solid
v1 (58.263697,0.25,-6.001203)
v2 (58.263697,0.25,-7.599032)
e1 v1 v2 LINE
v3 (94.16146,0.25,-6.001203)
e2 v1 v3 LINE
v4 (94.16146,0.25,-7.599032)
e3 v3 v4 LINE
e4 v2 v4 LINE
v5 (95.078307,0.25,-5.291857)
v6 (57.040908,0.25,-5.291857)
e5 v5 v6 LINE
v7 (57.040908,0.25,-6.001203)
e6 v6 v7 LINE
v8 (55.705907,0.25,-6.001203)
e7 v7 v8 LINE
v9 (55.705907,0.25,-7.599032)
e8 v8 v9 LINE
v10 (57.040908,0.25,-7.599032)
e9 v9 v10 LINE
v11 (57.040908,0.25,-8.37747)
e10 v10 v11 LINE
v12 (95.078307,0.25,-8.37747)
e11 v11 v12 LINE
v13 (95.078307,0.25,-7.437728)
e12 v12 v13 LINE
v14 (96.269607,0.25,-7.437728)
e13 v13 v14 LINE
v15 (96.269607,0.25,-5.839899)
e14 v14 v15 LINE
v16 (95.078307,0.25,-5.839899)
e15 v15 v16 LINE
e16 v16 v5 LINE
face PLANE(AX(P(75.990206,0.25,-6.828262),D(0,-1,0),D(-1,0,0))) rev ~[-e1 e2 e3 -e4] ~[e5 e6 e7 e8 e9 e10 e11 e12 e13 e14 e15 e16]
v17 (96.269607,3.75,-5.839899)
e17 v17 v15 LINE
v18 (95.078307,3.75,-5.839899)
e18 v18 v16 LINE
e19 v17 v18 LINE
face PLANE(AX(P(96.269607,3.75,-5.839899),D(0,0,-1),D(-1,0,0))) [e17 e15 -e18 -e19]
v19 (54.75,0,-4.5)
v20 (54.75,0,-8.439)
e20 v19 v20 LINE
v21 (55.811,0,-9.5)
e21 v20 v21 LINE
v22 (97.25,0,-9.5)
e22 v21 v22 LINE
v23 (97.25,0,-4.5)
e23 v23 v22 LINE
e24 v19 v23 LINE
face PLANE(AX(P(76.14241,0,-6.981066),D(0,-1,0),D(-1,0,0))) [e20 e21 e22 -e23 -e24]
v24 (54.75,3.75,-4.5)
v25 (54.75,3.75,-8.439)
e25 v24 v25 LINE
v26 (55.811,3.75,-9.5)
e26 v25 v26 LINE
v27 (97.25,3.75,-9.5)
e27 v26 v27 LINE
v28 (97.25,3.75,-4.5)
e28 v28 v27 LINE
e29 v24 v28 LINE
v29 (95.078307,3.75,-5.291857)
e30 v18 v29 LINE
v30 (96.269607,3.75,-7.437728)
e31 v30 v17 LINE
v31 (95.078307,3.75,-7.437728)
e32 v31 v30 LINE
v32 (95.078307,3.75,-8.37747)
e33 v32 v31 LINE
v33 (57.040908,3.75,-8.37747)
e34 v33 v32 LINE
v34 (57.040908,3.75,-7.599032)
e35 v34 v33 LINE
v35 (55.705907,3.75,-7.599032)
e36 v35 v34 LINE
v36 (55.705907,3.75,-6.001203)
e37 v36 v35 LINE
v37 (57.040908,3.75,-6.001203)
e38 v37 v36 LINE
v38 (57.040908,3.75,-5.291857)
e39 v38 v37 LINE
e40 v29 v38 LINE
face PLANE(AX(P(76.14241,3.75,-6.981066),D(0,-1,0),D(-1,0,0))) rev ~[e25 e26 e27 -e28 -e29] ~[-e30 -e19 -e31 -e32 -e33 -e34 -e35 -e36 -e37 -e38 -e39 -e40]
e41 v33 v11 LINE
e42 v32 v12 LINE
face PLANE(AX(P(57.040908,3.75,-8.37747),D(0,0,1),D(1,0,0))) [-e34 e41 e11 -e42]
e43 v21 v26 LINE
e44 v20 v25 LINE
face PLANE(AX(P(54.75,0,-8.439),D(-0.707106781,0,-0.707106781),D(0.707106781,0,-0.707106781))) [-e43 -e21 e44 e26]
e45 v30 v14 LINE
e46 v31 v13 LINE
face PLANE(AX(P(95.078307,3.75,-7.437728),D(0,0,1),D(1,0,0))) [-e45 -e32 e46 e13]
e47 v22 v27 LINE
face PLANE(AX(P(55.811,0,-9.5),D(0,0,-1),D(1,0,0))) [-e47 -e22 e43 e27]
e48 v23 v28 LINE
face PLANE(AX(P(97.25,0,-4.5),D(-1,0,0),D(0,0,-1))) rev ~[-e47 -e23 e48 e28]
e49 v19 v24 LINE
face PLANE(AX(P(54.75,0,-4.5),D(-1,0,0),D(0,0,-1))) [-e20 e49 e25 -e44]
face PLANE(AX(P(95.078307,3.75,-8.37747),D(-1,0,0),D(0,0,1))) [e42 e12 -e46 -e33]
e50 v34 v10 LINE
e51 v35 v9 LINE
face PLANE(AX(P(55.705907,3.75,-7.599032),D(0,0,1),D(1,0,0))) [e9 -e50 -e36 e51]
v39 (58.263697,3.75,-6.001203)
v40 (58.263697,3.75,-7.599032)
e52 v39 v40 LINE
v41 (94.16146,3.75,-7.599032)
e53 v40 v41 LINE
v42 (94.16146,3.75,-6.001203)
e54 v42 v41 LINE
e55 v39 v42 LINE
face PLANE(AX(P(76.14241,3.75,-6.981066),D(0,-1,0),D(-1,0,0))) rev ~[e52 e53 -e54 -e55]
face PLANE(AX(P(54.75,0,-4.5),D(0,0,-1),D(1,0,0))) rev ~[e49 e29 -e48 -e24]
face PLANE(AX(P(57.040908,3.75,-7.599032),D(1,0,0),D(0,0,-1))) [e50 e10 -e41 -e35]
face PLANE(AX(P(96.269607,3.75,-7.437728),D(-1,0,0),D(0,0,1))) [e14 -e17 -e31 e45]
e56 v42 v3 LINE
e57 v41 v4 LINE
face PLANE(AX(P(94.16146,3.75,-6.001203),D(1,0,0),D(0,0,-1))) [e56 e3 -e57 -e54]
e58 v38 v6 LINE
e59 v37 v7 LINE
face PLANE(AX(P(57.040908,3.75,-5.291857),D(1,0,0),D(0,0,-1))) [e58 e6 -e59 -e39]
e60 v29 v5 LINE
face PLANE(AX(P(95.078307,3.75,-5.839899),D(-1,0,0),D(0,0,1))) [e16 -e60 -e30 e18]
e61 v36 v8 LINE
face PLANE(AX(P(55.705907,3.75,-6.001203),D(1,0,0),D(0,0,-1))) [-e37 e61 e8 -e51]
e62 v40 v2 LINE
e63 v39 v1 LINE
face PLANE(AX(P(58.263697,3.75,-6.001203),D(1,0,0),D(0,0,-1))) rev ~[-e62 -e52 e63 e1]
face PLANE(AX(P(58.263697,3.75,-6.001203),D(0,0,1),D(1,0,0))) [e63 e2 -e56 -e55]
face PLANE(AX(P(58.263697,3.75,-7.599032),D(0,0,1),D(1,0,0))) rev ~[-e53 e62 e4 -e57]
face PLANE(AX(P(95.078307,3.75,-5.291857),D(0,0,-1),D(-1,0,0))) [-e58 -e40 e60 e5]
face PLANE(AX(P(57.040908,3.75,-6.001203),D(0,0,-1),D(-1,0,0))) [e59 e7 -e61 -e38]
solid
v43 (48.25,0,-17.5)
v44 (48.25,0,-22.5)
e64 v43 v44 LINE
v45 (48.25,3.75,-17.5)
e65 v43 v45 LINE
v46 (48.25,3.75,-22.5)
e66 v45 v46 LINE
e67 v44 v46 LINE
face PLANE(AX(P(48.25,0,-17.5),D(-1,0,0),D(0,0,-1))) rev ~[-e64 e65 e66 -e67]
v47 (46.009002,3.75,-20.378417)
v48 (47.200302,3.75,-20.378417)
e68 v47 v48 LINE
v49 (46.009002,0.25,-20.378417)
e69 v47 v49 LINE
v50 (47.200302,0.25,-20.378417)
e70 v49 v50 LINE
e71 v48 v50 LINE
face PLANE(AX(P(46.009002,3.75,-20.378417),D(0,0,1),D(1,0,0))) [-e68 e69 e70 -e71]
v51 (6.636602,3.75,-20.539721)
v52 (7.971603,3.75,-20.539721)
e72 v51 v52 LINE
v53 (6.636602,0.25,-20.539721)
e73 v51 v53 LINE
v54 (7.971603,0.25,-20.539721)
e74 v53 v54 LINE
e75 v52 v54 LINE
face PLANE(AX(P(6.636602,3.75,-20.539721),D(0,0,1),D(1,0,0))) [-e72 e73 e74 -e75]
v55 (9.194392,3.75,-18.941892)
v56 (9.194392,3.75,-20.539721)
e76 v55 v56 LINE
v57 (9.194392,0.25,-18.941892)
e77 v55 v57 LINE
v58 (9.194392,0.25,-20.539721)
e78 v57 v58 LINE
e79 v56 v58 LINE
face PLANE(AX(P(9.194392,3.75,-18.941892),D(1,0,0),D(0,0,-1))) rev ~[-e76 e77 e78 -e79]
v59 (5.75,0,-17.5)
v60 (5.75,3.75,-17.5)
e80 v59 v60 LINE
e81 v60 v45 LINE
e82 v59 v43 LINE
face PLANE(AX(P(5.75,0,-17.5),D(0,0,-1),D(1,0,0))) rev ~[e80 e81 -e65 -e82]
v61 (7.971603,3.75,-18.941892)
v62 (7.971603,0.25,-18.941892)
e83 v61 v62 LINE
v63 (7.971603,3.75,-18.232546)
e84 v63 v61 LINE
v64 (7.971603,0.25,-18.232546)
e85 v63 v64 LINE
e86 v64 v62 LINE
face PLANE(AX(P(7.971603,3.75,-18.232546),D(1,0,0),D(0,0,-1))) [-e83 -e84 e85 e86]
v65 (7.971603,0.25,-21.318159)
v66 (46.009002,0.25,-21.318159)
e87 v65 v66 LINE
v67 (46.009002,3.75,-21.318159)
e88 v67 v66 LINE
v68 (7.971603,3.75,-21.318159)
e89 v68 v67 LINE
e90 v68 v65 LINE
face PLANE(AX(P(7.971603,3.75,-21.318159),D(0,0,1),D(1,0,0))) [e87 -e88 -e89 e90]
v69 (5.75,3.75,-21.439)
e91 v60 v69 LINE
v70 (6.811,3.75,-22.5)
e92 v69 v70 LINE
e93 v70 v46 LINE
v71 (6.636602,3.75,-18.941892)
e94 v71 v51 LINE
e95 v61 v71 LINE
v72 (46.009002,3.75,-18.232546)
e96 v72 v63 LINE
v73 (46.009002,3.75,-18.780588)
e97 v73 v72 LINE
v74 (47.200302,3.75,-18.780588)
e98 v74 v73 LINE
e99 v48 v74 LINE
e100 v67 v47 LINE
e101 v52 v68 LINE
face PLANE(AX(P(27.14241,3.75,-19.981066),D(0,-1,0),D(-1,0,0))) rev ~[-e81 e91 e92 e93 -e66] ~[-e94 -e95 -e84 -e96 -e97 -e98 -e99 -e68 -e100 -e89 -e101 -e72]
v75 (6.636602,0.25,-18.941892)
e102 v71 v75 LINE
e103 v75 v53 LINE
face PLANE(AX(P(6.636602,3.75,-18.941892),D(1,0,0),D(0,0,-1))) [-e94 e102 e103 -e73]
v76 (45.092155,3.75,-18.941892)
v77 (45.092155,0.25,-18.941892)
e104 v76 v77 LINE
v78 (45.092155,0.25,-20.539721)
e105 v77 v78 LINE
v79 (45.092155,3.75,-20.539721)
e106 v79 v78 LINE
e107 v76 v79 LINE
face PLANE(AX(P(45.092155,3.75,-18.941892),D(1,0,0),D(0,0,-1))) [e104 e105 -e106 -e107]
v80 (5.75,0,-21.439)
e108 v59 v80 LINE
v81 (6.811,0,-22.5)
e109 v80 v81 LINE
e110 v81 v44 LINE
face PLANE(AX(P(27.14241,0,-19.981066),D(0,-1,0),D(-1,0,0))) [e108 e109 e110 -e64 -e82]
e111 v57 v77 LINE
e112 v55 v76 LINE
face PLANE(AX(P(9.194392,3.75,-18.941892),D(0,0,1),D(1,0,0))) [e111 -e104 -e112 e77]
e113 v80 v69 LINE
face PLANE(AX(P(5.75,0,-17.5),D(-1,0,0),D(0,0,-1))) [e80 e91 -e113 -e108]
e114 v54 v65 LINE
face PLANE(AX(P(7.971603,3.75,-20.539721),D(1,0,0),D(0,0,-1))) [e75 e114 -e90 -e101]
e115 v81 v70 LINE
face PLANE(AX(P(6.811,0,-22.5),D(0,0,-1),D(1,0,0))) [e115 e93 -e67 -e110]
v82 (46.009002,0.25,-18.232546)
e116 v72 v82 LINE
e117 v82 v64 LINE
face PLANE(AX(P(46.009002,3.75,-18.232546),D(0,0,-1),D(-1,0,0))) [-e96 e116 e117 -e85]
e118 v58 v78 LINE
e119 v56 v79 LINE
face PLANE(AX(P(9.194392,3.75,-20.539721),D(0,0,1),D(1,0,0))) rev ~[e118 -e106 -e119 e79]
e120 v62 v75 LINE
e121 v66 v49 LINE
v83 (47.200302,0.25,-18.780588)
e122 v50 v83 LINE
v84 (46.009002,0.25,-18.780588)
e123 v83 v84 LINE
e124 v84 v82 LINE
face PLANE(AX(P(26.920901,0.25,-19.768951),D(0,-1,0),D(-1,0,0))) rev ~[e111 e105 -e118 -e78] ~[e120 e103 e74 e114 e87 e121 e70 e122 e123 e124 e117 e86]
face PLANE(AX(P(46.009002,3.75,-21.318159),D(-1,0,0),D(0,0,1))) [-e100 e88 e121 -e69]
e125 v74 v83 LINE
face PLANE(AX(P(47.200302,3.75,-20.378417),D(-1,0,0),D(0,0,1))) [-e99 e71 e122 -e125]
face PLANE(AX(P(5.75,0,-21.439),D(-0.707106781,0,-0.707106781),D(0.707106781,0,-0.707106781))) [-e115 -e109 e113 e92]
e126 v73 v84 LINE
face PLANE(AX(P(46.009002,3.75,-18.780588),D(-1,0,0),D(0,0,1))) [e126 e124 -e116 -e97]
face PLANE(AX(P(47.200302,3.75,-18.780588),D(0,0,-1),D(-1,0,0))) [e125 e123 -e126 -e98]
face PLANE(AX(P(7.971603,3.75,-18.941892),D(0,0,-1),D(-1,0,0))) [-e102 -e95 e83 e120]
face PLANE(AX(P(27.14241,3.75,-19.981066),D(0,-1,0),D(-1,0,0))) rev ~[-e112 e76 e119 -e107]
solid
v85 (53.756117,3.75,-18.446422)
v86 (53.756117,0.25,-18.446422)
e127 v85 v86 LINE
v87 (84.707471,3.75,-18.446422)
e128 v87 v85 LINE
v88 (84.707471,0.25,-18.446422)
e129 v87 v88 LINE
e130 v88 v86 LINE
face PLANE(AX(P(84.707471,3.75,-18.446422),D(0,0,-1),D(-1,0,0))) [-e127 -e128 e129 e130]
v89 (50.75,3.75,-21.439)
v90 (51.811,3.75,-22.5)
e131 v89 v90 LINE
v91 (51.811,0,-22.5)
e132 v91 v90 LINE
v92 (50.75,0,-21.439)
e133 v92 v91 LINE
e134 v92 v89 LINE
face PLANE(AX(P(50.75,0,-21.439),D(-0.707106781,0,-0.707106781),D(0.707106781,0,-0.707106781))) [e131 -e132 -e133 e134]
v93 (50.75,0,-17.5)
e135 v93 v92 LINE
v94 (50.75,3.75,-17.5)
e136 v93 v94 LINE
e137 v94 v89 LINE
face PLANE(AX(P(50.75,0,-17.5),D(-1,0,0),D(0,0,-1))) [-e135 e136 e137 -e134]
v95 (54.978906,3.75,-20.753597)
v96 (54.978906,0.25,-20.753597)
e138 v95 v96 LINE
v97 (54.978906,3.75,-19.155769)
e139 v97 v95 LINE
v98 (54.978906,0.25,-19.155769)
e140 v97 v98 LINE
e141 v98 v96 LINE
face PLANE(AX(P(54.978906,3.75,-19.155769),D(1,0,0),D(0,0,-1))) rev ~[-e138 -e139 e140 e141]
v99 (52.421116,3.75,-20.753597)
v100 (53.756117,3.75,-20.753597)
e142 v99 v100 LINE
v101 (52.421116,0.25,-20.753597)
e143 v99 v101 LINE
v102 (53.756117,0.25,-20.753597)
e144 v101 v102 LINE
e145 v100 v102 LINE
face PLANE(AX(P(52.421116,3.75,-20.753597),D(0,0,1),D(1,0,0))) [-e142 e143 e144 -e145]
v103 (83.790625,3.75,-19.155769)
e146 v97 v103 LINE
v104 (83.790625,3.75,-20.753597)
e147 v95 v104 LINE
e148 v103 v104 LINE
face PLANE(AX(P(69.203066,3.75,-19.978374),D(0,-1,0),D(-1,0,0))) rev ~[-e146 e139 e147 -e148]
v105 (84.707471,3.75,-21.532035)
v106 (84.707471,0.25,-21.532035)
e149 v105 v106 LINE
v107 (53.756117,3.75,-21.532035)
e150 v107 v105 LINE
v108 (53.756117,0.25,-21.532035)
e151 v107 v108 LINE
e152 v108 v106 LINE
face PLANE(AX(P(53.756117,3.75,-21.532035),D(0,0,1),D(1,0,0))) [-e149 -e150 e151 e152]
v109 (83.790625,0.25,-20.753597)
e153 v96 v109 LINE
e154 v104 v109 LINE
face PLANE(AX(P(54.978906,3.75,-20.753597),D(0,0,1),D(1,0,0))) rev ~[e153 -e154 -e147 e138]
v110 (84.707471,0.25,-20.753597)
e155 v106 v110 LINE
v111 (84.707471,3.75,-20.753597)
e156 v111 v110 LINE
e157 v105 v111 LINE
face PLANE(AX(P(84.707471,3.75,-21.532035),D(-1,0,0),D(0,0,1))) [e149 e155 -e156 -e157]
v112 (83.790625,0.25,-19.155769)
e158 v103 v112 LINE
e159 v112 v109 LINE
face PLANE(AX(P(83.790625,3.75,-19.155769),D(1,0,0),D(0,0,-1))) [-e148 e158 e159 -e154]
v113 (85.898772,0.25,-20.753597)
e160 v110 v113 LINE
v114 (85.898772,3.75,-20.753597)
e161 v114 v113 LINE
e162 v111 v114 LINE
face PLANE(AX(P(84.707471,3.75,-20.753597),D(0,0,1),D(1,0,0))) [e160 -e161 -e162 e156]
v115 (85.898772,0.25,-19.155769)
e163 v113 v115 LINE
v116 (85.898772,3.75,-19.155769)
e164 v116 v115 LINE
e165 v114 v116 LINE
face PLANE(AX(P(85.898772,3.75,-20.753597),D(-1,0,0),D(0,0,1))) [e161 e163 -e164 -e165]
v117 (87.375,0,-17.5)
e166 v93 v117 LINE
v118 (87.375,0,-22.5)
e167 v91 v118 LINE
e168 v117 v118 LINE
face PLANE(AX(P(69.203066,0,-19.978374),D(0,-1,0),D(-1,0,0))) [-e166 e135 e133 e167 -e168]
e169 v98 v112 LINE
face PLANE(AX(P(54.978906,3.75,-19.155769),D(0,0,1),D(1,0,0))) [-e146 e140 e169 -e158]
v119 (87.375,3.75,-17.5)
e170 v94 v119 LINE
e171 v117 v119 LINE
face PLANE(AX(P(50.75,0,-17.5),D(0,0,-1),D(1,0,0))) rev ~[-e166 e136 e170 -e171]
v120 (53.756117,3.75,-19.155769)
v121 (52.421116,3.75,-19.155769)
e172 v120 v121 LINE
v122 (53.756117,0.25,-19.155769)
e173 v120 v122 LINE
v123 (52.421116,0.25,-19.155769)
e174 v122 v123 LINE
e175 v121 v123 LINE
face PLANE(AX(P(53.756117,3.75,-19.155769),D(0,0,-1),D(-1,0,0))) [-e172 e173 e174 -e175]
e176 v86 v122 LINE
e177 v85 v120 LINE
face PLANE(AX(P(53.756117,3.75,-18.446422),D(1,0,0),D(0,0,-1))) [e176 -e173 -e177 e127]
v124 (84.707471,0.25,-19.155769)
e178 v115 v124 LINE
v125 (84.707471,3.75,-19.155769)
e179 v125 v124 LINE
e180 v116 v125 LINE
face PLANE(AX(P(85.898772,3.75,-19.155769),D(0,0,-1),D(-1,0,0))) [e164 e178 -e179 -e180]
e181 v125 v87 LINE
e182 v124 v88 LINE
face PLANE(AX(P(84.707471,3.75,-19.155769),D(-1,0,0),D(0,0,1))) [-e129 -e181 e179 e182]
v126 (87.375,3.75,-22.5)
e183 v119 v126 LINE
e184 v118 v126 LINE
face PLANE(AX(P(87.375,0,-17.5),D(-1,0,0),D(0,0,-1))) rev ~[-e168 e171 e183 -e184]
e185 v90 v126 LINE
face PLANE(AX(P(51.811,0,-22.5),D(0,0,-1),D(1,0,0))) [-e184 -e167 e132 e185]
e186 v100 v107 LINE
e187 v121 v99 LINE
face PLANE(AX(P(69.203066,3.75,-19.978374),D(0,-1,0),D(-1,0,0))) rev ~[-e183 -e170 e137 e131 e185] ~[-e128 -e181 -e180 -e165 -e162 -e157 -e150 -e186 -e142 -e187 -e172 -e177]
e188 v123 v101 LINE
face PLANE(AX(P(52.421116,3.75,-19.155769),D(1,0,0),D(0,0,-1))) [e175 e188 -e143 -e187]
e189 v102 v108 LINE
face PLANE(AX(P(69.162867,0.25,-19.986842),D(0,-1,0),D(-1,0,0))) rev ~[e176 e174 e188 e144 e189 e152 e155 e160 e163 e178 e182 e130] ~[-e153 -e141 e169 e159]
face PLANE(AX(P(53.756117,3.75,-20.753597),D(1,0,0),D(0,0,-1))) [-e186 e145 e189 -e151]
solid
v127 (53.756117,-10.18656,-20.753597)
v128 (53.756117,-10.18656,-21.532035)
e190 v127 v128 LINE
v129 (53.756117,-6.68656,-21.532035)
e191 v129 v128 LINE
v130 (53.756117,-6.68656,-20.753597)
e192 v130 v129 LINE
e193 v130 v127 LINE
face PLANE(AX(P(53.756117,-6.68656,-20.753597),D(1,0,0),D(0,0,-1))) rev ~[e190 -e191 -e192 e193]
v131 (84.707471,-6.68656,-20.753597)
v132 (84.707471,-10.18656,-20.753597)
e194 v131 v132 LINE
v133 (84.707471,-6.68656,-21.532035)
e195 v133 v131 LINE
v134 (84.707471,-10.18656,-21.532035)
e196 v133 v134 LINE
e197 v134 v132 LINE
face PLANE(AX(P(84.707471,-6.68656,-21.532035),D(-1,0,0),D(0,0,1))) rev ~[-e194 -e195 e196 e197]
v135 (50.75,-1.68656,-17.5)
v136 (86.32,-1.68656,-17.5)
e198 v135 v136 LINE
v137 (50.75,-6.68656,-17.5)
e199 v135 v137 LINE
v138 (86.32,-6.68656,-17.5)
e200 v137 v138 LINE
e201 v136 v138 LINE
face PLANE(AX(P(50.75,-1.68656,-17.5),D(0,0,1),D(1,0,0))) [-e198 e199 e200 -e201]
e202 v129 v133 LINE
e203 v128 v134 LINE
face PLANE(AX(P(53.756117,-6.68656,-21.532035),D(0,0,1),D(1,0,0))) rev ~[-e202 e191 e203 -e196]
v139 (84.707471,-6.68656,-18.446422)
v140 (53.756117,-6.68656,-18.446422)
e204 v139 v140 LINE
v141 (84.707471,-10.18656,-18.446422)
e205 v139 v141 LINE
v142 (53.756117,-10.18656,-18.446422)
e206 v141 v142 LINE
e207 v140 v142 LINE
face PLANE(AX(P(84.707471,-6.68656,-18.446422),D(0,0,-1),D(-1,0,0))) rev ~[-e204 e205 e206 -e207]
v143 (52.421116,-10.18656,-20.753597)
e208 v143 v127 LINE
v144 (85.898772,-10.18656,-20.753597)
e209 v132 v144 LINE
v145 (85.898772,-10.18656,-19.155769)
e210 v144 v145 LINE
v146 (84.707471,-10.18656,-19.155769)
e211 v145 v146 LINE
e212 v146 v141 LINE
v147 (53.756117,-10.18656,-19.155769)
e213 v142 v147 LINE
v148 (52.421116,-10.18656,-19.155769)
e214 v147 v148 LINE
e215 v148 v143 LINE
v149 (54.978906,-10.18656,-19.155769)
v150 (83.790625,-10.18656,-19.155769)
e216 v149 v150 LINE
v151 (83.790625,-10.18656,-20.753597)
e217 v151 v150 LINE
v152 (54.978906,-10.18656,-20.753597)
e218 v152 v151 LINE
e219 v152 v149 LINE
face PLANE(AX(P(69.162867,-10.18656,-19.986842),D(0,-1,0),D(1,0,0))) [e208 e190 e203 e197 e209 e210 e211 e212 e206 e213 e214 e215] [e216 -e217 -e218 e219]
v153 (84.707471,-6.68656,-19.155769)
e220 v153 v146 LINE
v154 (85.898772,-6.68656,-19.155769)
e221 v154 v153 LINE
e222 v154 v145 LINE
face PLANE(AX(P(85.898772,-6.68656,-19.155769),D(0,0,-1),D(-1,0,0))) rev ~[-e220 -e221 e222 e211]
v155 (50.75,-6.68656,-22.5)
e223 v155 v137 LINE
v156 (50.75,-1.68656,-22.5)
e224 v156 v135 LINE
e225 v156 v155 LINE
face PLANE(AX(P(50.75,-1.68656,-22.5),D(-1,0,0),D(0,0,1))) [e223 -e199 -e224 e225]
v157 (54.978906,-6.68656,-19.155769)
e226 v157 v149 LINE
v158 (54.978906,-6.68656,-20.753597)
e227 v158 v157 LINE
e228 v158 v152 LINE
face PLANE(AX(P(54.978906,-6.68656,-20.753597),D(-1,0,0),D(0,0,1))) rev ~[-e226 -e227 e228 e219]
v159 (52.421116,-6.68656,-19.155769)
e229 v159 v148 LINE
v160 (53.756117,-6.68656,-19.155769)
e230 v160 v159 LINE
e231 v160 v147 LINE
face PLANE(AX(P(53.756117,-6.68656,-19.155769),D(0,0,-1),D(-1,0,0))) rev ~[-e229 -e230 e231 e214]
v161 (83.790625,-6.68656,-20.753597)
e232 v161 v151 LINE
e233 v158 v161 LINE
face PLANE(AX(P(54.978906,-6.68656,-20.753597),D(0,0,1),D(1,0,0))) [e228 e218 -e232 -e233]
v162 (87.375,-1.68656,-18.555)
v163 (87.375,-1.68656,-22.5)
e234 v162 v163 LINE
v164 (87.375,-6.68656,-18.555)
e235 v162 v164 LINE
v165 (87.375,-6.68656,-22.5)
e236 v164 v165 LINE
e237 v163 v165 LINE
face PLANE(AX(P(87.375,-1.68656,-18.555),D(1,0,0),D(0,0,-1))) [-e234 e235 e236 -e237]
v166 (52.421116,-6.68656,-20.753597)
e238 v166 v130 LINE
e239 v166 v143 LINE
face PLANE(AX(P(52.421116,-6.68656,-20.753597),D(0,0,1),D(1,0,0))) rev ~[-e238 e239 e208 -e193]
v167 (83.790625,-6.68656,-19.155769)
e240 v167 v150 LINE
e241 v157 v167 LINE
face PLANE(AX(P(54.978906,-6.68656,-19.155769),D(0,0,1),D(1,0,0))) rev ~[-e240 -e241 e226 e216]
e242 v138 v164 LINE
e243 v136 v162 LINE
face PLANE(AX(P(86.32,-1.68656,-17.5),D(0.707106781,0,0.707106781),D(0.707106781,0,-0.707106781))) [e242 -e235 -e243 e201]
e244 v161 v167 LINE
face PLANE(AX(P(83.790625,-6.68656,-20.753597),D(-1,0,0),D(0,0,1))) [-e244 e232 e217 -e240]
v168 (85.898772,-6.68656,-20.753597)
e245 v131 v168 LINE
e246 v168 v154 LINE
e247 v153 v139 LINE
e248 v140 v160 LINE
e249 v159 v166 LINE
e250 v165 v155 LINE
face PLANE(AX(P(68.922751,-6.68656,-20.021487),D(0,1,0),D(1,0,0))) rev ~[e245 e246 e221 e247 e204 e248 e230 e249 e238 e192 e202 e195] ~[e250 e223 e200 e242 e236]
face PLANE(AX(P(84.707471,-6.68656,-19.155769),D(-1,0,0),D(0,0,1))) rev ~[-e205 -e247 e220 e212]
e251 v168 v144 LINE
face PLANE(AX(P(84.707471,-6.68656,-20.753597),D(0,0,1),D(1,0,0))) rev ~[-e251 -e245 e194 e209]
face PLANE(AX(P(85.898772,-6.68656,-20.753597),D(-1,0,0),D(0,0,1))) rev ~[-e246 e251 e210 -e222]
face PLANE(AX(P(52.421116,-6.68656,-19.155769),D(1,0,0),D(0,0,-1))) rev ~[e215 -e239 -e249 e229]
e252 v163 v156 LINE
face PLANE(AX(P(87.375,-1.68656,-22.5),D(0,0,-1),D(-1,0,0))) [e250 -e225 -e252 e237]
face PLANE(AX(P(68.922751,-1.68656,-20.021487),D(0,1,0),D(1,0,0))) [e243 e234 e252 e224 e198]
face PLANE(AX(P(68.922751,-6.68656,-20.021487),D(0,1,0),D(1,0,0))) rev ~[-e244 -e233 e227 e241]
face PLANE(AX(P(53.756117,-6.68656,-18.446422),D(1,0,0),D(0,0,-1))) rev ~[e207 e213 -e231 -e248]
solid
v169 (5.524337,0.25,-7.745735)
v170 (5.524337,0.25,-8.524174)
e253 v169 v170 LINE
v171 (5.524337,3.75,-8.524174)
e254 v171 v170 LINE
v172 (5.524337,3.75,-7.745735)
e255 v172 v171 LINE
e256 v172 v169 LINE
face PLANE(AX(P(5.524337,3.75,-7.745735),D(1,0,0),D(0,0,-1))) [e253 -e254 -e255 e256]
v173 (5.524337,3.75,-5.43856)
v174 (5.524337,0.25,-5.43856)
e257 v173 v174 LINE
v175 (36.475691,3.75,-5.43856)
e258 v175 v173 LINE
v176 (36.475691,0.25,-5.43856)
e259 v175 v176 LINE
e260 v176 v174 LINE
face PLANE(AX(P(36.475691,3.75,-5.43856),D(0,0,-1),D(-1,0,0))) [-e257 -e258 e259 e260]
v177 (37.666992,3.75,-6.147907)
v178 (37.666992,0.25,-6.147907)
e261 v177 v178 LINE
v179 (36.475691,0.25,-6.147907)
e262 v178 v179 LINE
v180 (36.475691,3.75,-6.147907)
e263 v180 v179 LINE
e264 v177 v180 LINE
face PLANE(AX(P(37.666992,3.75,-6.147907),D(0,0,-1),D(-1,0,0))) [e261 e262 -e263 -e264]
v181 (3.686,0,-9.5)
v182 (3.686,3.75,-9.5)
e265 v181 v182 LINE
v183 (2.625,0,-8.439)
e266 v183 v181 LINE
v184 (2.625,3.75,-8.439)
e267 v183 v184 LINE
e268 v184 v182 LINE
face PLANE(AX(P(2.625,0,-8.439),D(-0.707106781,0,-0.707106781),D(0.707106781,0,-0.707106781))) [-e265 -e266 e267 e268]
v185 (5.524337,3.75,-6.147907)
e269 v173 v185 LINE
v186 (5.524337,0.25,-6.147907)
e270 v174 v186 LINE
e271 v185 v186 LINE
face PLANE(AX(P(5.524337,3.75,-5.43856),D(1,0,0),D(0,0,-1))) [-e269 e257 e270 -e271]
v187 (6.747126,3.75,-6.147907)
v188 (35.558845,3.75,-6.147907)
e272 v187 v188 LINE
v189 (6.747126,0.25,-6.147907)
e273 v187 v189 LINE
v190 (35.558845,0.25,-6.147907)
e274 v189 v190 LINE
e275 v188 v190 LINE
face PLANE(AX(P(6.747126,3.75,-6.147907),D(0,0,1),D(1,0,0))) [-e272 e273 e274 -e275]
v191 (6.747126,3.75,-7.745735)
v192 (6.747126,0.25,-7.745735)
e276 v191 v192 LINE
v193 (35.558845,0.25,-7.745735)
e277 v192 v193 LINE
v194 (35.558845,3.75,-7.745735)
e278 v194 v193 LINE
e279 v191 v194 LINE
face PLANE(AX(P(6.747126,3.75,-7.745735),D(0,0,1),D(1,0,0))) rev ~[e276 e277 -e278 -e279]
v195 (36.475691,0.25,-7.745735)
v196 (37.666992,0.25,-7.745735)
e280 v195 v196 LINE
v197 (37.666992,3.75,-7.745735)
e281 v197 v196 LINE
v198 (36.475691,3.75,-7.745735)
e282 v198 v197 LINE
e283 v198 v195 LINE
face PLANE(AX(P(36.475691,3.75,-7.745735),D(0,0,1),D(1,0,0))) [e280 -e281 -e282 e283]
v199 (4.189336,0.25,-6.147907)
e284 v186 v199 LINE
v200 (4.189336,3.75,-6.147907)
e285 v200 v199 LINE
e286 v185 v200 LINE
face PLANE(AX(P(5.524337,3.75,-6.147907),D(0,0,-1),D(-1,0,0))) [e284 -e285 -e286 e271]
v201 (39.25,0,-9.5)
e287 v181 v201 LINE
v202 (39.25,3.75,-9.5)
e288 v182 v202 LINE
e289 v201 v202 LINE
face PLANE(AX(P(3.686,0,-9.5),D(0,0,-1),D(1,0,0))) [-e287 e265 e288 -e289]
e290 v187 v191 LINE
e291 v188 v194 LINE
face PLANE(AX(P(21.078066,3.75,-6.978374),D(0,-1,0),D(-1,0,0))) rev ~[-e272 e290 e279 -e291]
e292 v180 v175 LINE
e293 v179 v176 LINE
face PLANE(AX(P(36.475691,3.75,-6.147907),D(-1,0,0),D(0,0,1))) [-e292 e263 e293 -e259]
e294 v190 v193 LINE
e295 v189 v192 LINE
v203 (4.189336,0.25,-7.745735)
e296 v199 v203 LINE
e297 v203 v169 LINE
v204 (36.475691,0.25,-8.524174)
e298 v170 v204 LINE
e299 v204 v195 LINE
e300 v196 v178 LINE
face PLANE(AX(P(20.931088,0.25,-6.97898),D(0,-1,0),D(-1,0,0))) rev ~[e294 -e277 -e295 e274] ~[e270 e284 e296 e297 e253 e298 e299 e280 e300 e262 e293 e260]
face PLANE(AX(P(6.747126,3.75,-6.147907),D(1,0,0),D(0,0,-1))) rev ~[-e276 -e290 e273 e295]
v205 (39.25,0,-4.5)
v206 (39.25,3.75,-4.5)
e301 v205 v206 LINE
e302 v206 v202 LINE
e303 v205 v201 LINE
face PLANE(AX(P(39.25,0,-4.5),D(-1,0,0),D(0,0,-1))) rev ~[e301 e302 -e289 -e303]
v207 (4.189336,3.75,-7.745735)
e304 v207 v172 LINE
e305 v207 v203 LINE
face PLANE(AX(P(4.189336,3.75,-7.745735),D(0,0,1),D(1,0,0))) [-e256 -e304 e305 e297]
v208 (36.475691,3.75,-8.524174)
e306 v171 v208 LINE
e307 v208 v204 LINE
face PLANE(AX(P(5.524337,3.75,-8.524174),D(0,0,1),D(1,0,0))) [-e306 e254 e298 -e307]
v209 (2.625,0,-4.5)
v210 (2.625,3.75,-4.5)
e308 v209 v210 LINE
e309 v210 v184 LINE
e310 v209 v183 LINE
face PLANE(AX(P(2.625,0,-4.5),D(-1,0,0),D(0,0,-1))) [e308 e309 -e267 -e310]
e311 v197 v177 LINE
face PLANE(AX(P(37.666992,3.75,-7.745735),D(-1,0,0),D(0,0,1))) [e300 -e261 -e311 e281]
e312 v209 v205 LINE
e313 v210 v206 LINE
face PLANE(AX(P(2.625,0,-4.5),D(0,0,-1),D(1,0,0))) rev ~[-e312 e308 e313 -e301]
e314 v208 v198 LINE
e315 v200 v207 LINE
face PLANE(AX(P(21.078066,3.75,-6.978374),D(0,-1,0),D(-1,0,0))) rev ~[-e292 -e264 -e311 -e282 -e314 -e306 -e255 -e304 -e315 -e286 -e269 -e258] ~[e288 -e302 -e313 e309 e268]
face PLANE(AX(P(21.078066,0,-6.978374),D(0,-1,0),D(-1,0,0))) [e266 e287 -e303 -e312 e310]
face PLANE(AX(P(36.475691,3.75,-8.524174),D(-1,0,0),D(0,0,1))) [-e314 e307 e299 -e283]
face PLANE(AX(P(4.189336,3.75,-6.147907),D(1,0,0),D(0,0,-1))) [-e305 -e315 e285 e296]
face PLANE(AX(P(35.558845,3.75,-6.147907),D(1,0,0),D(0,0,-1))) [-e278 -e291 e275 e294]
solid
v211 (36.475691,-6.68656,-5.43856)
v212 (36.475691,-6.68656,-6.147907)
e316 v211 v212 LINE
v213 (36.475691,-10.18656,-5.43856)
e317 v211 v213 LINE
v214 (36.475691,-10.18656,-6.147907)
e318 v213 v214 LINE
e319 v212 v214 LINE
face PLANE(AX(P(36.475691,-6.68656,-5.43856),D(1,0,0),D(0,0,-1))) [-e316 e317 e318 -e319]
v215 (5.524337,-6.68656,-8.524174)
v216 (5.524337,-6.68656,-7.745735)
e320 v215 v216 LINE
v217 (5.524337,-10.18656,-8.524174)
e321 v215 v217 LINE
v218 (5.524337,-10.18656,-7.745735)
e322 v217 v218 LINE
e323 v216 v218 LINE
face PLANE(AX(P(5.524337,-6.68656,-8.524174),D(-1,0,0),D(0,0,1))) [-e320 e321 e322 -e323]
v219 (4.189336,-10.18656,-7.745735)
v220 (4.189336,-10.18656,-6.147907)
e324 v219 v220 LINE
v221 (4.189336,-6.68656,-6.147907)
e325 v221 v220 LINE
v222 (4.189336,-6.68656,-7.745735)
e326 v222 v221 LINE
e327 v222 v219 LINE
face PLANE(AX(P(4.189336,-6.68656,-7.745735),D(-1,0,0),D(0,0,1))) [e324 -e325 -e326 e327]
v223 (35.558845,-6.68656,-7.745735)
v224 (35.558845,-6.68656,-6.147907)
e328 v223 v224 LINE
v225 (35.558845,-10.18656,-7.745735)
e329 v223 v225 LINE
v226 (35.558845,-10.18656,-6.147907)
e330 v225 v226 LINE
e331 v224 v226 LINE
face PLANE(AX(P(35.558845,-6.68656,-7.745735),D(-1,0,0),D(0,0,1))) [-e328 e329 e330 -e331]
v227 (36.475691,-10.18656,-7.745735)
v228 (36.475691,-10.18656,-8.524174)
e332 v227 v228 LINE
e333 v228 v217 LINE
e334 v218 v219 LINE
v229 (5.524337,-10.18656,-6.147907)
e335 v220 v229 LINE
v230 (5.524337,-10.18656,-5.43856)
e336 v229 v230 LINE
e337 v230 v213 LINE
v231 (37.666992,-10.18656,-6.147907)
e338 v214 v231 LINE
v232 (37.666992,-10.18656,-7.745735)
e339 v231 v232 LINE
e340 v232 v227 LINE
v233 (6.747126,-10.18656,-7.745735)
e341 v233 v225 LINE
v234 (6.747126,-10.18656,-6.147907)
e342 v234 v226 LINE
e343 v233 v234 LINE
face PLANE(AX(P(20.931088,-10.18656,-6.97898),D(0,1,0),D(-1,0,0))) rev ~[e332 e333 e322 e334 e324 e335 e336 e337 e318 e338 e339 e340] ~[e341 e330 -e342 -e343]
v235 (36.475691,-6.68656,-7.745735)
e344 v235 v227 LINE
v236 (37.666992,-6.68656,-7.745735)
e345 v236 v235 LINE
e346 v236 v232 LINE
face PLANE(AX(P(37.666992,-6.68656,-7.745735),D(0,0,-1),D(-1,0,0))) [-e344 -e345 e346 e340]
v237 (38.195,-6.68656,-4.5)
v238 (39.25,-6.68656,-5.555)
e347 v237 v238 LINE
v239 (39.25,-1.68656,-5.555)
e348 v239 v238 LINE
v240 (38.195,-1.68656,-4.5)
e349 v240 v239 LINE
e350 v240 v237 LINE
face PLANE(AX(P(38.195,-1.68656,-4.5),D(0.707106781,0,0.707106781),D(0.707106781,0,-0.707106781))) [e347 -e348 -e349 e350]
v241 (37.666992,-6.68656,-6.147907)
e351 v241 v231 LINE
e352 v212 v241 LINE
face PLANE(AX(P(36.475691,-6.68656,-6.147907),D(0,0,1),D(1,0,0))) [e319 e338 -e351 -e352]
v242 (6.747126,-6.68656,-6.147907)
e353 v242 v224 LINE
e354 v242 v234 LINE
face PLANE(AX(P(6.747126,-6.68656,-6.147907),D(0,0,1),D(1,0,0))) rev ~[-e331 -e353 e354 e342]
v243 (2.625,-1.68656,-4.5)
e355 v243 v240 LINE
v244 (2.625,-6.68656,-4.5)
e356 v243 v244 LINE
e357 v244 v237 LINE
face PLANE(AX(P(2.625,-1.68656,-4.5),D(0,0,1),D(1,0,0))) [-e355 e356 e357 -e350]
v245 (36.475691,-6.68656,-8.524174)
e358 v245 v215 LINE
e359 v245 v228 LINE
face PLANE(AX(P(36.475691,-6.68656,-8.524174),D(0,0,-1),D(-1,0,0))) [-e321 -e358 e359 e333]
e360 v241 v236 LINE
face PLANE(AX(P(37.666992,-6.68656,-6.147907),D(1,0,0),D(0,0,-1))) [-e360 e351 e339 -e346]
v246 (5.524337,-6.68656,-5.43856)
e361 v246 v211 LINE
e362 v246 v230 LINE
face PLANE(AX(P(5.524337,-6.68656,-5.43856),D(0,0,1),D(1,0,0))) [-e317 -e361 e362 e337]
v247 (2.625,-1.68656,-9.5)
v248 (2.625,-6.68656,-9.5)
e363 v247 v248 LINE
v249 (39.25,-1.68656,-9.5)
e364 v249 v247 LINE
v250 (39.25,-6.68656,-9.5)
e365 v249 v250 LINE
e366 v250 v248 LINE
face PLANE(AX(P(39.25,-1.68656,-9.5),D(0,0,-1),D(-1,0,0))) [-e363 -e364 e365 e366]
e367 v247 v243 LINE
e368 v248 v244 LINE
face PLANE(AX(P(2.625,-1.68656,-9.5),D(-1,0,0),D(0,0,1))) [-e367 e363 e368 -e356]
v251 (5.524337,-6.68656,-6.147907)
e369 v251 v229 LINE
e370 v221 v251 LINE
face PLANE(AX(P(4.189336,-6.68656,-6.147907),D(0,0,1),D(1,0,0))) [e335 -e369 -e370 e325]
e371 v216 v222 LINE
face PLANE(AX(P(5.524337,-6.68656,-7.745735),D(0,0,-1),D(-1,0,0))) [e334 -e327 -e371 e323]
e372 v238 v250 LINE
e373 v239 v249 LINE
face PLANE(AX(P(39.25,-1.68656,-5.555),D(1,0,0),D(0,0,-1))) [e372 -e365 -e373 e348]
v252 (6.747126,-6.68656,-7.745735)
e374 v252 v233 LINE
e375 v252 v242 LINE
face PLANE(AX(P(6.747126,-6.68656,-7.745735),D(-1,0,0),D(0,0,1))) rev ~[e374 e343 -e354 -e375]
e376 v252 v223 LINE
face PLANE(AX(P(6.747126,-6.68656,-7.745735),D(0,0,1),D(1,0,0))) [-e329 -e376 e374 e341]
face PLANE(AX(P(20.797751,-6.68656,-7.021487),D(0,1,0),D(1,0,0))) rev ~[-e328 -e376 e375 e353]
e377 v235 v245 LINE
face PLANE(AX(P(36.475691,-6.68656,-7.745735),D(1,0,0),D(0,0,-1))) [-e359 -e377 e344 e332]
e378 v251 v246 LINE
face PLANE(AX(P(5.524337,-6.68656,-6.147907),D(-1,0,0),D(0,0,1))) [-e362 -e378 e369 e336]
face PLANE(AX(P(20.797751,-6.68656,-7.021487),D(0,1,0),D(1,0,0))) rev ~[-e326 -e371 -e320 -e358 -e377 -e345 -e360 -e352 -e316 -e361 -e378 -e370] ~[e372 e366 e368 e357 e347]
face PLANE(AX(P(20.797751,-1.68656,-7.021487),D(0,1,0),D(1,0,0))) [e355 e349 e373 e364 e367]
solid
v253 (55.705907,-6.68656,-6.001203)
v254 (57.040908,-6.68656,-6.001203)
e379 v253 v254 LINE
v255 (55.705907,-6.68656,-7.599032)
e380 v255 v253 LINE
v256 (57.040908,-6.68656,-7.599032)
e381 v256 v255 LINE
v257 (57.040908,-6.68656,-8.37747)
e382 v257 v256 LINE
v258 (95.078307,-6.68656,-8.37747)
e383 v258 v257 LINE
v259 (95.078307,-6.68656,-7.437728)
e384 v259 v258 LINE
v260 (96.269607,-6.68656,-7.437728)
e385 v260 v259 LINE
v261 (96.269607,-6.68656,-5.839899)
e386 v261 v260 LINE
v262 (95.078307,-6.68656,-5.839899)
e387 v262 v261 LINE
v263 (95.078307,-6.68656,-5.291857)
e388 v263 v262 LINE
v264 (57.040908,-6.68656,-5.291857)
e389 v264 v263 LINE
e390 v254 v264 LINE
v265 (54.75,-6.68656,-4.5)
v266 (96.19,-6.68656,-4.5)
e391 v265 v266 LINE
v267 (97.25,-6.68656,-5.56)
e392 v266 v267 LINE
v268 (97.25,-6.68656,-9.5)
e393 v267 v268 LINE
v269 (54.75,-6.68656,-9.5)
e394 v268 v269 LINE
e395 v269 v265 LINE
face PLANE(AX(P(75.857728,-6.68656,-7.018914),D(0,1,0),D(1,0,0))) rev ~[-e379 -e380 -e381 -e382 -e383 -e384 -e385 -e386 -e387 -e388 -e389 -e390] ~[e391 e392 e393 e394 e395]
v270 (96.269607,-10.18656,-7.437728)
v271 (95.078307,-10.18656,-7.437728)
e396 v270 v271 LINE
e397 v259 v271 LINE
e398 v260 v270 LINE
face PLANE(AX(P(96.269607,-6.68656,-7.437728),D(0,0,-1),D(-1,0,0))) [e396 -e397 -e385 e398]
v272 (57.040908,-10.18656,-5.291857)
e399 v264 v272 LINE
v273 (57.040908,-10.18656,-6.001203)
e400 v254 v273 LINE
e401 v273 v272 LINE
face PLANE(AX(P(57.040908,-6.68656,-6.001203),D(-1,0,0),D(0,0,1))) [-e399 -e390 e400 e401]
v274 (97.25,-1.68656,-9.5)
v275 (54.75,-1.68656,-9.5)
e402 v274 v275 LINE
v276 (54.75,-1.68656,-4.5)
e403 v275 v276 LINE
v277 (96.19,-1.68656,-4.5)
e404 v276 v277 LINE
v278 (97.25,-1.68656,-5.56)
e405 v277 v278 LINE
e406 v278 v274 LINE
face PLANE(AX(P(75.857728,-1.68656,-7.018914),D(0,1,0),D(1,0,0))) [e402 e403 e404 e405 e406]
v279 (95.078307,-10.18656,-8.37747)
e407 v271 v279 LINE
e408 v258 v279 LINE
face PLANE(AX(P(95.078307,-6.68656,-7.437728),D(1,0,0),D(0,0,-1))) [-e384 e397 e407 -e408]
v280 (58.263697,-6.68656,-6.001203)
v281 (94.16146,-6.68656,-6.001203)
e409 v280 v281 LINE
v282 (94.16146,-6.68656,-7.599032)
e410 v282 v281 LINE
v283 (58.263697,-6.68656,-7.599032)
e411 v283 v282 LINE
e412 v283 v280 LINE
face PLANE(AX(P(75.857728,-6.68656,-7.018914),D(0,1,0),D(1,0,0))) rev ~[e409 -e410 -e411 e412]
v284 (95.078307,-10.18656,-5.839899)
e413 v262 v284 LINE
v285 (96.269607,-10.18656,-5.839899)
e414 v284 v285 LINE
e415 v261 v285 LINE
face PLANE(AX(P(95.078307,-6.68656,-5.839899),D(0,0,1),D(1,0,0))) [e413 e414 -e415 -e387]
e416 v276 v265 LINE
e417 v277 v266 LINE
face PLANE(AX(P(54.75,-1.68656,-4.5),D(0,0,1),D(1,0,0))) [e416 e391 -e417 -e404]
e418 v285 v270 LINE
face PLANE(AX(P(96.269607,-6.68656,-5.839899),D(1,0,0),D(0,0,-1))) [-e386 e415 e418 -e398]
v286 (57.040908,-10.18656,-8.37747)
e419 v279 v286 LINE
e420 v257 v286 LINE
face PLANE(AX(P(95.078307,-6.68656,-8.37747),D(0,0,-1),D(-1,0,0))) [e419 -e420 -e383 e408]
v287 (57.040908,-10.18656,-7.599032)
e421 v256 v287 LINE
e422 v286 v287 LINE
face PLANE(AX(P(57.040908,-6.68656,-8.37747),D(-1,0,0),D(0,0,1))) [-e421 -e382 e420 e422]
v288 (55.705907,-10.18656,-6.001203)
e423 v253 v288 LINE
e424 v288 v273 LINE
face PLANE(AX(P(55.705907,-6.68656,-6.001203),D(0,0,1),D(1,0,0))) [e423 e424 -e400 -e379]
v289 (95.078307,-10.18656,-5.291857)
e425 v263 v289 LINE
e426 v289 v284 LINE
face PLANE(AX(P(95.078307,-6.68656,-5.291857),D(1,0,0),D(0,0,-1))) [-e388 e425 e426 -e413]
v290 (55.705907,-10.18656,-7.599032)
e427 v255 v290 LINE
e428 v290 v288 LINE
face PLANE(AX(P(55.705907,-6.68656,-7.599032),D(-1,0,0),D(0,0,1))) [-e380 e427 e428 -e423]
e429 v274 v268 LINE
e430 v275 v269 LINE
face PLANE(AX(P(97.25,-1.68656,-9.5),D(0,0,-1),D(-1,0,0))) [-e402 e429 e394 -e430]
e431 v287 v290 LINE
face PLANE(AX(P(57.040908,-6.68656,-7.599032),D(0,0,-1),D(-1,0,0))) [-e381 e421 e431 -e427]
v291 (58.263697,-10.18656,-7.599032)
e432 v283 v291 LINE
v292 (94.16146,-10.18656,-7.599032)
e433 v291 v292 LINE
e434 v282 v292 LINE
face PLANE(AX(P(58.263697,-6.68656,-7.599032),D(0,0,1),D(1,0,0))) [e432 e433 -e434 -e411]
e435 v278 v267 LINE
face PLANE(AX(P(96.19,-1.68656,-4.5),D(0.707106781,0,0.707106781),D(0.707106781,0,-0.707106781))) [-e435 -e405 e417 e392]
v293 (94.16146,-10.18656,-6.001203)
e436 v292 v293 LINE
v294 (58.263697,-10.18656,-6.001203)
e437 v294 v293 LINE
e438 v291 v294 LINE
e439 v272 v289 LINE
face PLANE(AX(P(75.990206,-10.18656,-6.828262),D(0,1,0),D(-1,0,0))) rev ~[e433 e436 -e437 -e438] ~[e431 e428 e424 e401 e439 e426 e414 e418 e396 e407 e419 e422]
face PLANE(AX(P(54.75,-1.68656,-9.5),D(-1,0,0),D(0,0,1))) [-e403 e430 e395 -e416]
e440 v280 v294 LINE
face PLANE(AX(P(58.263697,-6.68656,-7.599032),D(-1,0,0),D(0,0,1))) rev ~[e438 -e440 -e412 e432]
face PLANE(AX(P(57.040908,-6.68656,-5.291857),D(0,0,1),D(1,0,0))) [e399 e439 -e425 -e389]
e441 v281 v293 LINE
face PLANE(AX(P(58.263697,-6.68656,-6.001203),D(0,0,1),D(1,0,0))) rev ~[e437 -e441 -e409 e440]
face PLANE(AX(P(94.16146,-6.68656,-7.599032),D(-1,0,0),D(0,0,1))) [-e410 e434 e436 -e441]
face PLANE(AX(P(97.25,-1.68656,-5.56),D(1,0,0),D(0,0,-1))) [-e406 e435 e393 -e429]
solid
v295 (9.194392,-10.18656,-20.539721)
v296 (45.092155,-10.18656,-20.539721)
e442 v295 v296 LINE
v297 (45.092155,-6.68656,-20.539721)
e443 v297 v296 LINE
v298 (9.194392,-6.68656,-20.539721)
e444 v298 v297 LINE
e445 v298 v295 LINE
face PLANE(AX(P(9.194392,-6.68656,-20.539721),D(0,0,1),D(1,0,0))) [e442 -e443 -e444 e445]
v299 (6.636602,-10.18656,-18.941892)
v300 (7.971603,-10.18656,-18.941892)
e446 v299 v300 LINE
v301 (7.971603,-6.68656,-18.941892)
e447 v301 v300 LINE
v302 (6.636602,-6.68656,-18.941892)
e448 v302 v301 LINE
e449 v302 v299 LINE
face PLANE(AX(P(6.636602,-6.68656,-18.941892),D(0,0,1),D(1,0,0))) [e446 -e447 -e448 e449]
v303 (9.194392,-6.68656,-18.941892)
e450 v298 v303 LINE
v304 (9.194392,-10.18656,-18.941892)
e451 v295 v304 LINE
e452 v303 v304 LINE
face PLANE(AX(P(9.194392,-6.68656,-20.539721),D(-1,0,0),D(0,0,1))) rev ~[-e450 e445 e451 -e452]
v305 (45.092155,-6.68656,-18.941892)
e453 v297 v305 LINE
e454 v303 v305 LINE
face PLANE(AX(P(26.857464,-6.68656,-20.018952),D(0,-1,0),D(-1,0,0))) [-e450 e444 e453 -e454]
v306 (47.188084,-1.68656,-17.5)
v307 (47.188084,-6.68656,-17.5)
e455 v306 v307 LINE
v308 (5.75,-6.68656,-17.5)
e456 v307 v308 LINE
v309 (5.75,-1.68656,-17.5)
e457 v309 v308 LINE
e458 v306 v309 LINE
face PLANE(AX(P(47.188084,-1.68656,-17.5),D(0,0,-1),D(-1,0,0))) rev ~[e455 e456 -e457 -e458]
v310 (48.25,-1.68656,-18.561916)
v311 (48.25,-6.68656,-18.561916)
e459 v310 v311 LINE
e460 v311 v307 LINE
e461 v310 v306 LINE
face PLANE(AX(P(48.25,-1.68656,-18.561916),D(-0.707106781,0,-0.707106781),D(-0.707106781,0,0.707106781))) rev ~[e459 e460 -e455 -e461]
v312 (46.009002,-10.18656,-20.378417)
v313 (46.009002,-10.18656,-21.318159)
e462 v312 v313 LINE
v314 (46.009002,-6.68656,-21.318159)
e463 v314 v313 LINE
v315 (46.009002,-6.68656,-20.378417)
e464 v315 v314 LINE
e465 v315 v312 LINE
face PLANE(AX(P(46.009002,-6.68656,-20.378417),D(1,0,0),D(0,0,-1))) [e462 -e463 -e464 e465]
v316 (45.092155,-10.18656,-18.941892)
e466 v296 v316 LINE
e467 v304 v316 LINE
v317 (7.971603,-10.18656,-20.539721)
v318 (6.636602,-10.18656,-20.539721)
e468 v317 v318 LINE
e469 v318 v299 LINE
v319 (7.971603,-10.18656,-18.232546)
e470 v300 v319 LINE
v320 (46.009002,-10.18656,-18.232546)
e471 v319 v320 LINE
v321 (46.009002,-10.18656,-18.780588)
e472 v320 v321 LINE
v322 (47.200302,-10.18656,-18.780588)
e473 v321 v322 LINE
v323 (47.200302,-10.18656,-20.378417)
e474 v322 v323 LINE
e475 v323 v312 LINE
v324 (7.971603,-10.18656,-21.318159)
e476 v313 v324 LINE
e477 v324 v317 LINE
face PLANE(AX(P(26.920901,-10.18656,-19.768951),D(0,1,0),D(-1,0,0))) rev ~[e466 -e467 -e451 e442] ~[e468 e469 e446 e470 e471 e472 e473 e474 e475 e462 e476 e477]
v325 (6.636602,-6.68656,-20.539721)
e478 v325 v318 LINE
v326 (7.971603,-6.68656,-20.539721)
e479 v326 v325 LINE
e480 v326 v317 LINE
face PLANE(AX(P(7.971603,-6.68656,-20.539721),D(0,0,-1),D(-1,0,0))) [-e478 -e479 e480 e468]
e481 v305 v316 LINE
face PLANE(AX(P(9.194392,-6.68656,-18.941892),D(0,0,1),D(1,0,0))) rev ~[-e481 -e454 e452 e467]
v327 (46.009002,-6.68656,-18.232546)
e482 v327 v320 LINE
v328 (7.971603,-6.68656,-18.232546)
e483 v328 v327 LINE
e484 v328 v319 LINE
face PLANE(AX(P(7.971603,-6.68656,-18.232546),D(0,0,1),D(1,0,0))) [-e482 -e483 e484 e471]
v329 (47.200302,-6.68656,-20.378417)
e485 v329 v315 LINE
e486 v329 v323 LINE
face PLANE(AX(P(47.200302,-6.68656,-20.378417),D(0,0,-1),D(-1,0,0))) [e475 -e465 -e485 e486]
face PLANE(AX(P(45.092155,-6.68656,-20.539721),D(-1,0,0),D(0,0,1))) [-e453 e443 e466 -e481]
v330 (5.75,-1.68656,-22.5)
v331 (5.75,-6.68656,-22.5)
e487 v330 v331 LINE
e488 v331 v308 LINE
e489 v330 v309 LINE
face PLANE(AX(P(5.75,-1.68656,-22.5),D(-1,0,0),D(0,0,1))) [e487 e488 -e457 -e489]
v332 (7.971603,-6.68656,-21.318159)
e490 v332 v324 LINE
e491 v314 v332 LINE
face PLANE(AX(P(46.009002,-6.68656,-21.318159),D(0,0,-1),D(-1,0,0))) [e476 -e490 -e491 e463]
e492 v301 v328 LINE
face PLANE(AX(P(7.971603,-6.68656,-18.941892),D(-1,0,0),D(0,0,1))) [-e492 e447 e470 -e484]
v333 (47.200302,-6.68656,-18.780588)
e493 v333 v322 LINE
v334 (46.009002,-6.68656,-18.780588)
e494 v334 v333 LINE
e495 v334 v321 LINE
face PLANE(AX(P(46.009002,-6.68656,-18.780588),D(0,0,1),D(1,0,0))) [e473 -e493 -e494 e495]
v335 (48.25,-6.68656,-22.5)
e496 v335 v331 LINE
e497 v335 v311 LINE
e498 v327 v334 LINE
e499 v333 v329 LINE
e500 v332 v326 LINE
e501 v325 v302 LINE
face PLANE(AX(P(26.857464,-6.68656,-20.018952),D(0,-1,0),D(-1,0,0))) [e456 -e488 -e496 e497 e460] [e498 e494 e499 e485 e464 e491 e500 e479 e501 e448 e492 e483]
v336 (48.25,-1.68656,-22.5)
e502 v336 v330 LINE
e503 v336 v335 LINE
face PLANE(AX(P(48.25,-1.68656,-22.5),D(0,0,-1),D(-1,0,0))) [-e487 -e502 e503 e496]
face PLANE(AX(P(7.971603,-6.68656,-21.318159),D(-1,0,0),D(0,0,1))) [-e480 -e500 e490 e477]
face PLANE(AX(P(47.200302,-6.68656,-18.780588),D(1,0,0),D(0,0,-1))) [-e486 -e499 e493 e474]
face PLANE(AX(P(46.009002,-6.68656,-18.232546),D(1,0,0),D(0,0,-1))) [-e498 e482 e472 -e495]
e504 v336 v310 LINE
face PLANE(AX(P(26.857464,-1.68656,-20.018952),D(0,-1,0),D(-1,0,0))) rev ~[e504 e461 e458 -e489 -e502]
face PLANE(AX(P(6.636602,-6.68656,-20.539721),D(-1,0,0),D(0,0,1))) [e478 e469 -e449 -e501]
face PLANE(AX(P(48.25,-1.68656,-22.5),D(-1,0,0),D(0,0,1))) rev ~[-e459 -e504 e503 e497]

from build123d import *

# Parameters (mm, degrees)
SV_DEPTH           = 3.75
SV_2_DEPTH         = 3.75
SV_3_DEPTH         = 3.75
SV_4_DEPTH         = 3.75
SKETCH3_W          = 28.811718275
SKETCH3_H          = 1.597828601
SKETCH3_W_2        = 35.897762959
SKETCH3_W_3        = 35.897762958
CUT_EXTRUDE1_DEPTH = 3.5
SV4_A_DEPTH        = 5
SV4_A_2_DEPTH      = 5
SV4_A_3_DEPTH      = 5
SV4_A_4_DEPTH      = 5
SKETCH7_W          = 35.897762958
SKETCH7_H          = 1.597828601
SKETCH7_W_2        = 28.811718275
SKETCH7_W_3        = 35.897762959
SV4_B_DEPTH        = 3.5


with BuildPart() as part:
    # Sketch1 → SV (new body)
    with BuildSketch(Plane(origin=(0, 0, 0), x_dir=(1, 0, 0), z_dir=(0, 1, 0))):
        Polygon((55.811, 9.5), (97.25, 9.5), (97.25, 5.56), (97.25, 4.5), (96.19, 4.5), (54.75, 4.5), (54.75, 8.439), align=None)
    extrude(amount=SV_DEPTH)


with BuildPart() as body_2:
    # Sketch1 → SV 2 (new body)
    with BuildSketch(Plane(origin=(0, 0, 0), x_dir=(1, 0, 0), z_dir=(0, 1, 0))):
        Polygon((3.686, 9.5), (39.25, 9.5), (39.25, 5.555), (39.25, 4.5), (38.195, 4.5), (2.625, 4.5), (2.625, 8.439), align=None)
    extrude(amount=SV_2_DEPTH)


with BuildPart() as body_3:
    # Sketch1 → SV 3 (new body)
    with BuildSketch(Plane(origin=(0, 0, 0), x_dir=(1, 0, 0), z_dir=(0, 1, 0))):
        Polygon((51.811, 22.5), (87.375, 22.5), (87.375, 18.555), (87.375, 17.5), (86.32, 17.5), (50.75, 17.5), (50.75, 21.439), align=None)
    extrude(amount=SV_3_DEPTH)


with BuildPart() as body_4:
    # Sketch1 → SV 4 (new body)
    with BuildSketch(Plane(origin=(0, 0, 0), x_dir=(1, 0, 0), z_dir=(0, 1, 0))):
        Polygon((6.811, 22.5), (48.25, 22.5), (48.25, 18.56), (48.25, 17.5), (47.19, 17.5), (5.75, 17.5), (5.75, 21.439), align=None)
    extrude(amount=SV_4_DEPTH)


with BuildPart() as cut_extrude1_tool:
    # Sketch3 → Cut-Extrude1 (new body)
    with BuildSketch(Plane(origin=(0, 3.75, 0), x_dir=(1, 0, 0), z_dir=(0, 1, 0))):
        Polygon((4.189336253, 7.745735487), (5.524337048, 7.745735487), (5.524337048, 8.524173538), (36.475691419, 8.524173538), (36.475691419, 7.745735487), (37.666991912, 7.745735487), (37.666991912, 6.147906886), (36.475691419, 6.147906886), (36.475691419, 5.438560322), (5.524337048, 5.438560322), (5.524337048, 6.147906886), (4.189336253, 6.147906886), align=None)
        with Locations((21.152985591, 6.946821187)):
            Rectangle(SKETCH3_W, SKETCH3_H, mode=Mode.SUBTRACT)
        Polygon((52.421116037, 20.753597434), (53.756116831, 20.753597434), (53.756116831, 21.532035485), (84.707471203, 21.532035485), (84.707471203, 20.753597434), (85.898771695, 20.753597434), (85.898771695, 19.155768833), (84.707471203, 19.155768833), (84.707471203, 18.446422269), (53.756116831, 18.446422269), (53.756116831, 19.155768833), (52.421116037, 19.155768833), align=None)
        with Locations((69.384765375, 19.954683133)):
            Rectangle(SKETCH3_W, SKETCH3_H, mode=Mode.SUBTRACT)
        Polygon((55.705906871, 7.599031898), (57.040907666, 7.599031898), (57.040907666, 8.377469948), (95.07830672, 8.377469948), (95.07830672, 7.437727621), (96.269607213, 7.437727621), (96.269607213, 5.83989902), (95.07830672, 5.83989902), (95.07830672, 5.291856733), (57.040907666, 5.291856733), (57.040907666, 6.001203297), (55.705906871, 6.001203297), align=None)
        with Locations((76.21257855, 6.800117597)):
            Rectangle(SKETCH3_W_2, SKETCH3_H, mode=Mode.SUBTRACT)
        Polygon((6.636601859, 20.53972103), (7.971602653, 20.53972103), (7.971602653, 21.318159081), (46.009001708, 21.318159081), (46.009001708, 20.378416754), (47.2003022, 20.378416754), (47.2003022, 18.780588153), (46.009001708, 18.780588153), (46.009001708, 18.232545866), (7.971602653, 18.232545866), (7.971602653, 18.941892429), (6.636601859, 18.941892429), align=None)
        with Locations((27.143273538, 19.74080673)):
            Rectangle(SKETCH3_W_3, SKETCH3_H, mode=Mode.SUBTRACT)
    extrude(amount=-CUT_EXTRUDE1_DEPTH)


with BuildPart() as part_1:
    add(part.part)

    # Cut-Extrude1: cut by cut_extrude1_tool
    add(cut_extrude1_tool.part, mode=Mode.SUBTRACT)


with BuildPart() as body_2_1:
    add(body_2.part)

    # Cut-Extrude1: cut by cut_extrude1_tool
    add(cut_extrude1_tool.part, mode=Mode.SUBTRACT)


with BuildPart() as body_3_1:
    add(body_3.part)

    # Cut-Extrude1: cut by cut_extrude1_tool
    add(cut_extrude1_tool.part, mode=Mode.SUBTRACT)


with BuildPart() as body_4_1:
    add(body_4.part)

    # Cut-Extrude1: cut by cut_extrude1_tool
    add(cut_extrude1_tool.part, mode=Mode.SUBTRACT)


with BuildPart() as body_5:
    # Sketch6 → SV4(a) (new body)
    with BuildSketch(Plane(origin=(0, -1.68656, 0), x_dir=(1, 0, 0), z_dir=(0, 1, 0))):
        Polygon((2.625, 4.5), (38.195, 4.5), (39.25, 5.555), (39.25, 9.5), (3.685, 9.5), (2.625, 9.5), (2.625, 8.44), align=None)
    extrude(amount=-SV4_A_DEPTH)



with BuildPart() as body_6:
    # Sketch6 → SV4_a 2 (new body)
    with BuildSketch(Plane(origin=(0, -1.68656, 0), x_dir=(1, 0, 0), z_dir=(0, 1, 0))):
        Polygon((48.25, 18.56191605), (47.18808395, 17.5), (5.75, 17.5), (5.75, 21.44), (5.75, 22.5), (6.81, 22.5), (48.25, 22.5), align=None)
    extrude(amount=-SV4_A_2_DEPTH)


with BuildPart() as body_7:
    # Sketch6 → SV4_a 3 (new body)
    with BuildSketch(Plane(origin=(0, -1.68656, 0), x_dir=(1, 0, 0), z_dir=(0, 1, 0))):
        Polygon((54.75, 4.5), (96.19, 4.5), (97.25, 5.56), (97.25, 9.5), (55.81, 9.5), (54.75, 9.5), (54.75, 8.44), align=None)
    extrude(amount=-SV4_A_3_DEPTH)


with BuildPart() as body_8:
    # Sketch6 → SV4_a 4 (new body)
    with BuildSketch(Plane(origin=(0, -1.68656, 0), x_dir=(1, 0, 0), z_dir=(0, 1, 0))):
        Polygon((50.75, 17.5), (86.32, 17.5), (87.375, 18.555), (87.375, 22.5), (51.805, 22.5), (50.75, 22.5), (50.75, 21.445), align=None)
    extrude(amount=-SV4_A_4_DEPTH)


with BuildPart() as body_5_1:
    add(body_5.part)

    add(body_6.part)  # SV4(b) merges body 6

    add(body_7.part)  # SV4(b) merges body 7

    add(body_8.part)  # SV4(b) merges body 8
    # Sketch7 → SV4(b) (add)
    with BuildSketch(Plane.XZ.offset(6.68656)):
        Polygon((7.971602653, -21.318159081), (7.971602653, -20.53972103), (6.636601859, -20.53972103), (6.636601859, -18.941892429), (7.971602653, -18.941892429), (7.971602653, -18.232545866), (46.009001708, -18.232545866), (46.009001708, -18.780588153), (47.2003022, -18.780588153), (47.2003022, -20.378416754), (46.009001708, -20.378416754), (46.009001708, -21.318159081), align=None)
        with Locations((27.143273538, -19.74080673)):
            Rectangle(SKETCH7_W, SKETCH7_H, mode=Mode.SUBTRACT)
        Polygon((53.756116831, -21.532035485), (84.707471203, -21.532035485), (84.707471203, -20.753597434), (85.898771695, -20.753597434), (85.898771695, -19.155768833), (84.707471203, -19.155768833), (84.707471203, -18.446422269), (53.756116831, -18.446422269), (53.756116831, -19.155768833), (52.421116037, -19.155768833), (52.421116037, -20.753597434), (53.756116831, -20.753597434), align=None)
        with Locations((69.384765375, -19.954683133)):
            Rectangle(SKETCH7_W_2, SKETCH7_H, mode=Mode.SUBTRACT)
        Polygon((57.040907666, -8.377469948), (57.040907666, -7.599031898), (55.705906871, -7.599031898), (55.705906871, -6.001203297), (57.040907666, -6.001203297), (57.040907666, -5.291856733), (95.07830672, -5.291856733), (95.07830672, -5.83989902), (96.269607213, -5.83989902), (96.269607213, -7.437727621), (95.07830672, -7.437727621), (95.07830672, -8.377469948), align=None)
        with Locations((76.21257855, -6.800117597)):
            Rectangle(SKETCH7_W_3, SKETCH7_H, mode=Mode.SUBTRACT)
        Polygon((4.189336253, -6.147906886), (5.524337048, -6.147906886), (5.524337048, -5.438560322), (36.475691419, -5.438560322), (36.475691419, -6.147906886), (37.666991912, -6.147906886), (37.666991912, -7.745735487), (36.475691419, -7.745735487), (36.475691419, -8.524173538), (5.524337048, -8.524173538), (5.524337048, -7.745735487), (4.189336253, -7.745735487), align=None)
        with Locations((21.152985591, -6.946821187)):
            Rectangle(SKETCH7_W_2, SKETCH7_H, mode=Mode.SUBTRACT)
    extrude(amount=SV4_B_DEPTH)


solid = Compound([part_1.part, body_2_1.part, body_3_1.part, body_4_1.part, body_5_1.part])
